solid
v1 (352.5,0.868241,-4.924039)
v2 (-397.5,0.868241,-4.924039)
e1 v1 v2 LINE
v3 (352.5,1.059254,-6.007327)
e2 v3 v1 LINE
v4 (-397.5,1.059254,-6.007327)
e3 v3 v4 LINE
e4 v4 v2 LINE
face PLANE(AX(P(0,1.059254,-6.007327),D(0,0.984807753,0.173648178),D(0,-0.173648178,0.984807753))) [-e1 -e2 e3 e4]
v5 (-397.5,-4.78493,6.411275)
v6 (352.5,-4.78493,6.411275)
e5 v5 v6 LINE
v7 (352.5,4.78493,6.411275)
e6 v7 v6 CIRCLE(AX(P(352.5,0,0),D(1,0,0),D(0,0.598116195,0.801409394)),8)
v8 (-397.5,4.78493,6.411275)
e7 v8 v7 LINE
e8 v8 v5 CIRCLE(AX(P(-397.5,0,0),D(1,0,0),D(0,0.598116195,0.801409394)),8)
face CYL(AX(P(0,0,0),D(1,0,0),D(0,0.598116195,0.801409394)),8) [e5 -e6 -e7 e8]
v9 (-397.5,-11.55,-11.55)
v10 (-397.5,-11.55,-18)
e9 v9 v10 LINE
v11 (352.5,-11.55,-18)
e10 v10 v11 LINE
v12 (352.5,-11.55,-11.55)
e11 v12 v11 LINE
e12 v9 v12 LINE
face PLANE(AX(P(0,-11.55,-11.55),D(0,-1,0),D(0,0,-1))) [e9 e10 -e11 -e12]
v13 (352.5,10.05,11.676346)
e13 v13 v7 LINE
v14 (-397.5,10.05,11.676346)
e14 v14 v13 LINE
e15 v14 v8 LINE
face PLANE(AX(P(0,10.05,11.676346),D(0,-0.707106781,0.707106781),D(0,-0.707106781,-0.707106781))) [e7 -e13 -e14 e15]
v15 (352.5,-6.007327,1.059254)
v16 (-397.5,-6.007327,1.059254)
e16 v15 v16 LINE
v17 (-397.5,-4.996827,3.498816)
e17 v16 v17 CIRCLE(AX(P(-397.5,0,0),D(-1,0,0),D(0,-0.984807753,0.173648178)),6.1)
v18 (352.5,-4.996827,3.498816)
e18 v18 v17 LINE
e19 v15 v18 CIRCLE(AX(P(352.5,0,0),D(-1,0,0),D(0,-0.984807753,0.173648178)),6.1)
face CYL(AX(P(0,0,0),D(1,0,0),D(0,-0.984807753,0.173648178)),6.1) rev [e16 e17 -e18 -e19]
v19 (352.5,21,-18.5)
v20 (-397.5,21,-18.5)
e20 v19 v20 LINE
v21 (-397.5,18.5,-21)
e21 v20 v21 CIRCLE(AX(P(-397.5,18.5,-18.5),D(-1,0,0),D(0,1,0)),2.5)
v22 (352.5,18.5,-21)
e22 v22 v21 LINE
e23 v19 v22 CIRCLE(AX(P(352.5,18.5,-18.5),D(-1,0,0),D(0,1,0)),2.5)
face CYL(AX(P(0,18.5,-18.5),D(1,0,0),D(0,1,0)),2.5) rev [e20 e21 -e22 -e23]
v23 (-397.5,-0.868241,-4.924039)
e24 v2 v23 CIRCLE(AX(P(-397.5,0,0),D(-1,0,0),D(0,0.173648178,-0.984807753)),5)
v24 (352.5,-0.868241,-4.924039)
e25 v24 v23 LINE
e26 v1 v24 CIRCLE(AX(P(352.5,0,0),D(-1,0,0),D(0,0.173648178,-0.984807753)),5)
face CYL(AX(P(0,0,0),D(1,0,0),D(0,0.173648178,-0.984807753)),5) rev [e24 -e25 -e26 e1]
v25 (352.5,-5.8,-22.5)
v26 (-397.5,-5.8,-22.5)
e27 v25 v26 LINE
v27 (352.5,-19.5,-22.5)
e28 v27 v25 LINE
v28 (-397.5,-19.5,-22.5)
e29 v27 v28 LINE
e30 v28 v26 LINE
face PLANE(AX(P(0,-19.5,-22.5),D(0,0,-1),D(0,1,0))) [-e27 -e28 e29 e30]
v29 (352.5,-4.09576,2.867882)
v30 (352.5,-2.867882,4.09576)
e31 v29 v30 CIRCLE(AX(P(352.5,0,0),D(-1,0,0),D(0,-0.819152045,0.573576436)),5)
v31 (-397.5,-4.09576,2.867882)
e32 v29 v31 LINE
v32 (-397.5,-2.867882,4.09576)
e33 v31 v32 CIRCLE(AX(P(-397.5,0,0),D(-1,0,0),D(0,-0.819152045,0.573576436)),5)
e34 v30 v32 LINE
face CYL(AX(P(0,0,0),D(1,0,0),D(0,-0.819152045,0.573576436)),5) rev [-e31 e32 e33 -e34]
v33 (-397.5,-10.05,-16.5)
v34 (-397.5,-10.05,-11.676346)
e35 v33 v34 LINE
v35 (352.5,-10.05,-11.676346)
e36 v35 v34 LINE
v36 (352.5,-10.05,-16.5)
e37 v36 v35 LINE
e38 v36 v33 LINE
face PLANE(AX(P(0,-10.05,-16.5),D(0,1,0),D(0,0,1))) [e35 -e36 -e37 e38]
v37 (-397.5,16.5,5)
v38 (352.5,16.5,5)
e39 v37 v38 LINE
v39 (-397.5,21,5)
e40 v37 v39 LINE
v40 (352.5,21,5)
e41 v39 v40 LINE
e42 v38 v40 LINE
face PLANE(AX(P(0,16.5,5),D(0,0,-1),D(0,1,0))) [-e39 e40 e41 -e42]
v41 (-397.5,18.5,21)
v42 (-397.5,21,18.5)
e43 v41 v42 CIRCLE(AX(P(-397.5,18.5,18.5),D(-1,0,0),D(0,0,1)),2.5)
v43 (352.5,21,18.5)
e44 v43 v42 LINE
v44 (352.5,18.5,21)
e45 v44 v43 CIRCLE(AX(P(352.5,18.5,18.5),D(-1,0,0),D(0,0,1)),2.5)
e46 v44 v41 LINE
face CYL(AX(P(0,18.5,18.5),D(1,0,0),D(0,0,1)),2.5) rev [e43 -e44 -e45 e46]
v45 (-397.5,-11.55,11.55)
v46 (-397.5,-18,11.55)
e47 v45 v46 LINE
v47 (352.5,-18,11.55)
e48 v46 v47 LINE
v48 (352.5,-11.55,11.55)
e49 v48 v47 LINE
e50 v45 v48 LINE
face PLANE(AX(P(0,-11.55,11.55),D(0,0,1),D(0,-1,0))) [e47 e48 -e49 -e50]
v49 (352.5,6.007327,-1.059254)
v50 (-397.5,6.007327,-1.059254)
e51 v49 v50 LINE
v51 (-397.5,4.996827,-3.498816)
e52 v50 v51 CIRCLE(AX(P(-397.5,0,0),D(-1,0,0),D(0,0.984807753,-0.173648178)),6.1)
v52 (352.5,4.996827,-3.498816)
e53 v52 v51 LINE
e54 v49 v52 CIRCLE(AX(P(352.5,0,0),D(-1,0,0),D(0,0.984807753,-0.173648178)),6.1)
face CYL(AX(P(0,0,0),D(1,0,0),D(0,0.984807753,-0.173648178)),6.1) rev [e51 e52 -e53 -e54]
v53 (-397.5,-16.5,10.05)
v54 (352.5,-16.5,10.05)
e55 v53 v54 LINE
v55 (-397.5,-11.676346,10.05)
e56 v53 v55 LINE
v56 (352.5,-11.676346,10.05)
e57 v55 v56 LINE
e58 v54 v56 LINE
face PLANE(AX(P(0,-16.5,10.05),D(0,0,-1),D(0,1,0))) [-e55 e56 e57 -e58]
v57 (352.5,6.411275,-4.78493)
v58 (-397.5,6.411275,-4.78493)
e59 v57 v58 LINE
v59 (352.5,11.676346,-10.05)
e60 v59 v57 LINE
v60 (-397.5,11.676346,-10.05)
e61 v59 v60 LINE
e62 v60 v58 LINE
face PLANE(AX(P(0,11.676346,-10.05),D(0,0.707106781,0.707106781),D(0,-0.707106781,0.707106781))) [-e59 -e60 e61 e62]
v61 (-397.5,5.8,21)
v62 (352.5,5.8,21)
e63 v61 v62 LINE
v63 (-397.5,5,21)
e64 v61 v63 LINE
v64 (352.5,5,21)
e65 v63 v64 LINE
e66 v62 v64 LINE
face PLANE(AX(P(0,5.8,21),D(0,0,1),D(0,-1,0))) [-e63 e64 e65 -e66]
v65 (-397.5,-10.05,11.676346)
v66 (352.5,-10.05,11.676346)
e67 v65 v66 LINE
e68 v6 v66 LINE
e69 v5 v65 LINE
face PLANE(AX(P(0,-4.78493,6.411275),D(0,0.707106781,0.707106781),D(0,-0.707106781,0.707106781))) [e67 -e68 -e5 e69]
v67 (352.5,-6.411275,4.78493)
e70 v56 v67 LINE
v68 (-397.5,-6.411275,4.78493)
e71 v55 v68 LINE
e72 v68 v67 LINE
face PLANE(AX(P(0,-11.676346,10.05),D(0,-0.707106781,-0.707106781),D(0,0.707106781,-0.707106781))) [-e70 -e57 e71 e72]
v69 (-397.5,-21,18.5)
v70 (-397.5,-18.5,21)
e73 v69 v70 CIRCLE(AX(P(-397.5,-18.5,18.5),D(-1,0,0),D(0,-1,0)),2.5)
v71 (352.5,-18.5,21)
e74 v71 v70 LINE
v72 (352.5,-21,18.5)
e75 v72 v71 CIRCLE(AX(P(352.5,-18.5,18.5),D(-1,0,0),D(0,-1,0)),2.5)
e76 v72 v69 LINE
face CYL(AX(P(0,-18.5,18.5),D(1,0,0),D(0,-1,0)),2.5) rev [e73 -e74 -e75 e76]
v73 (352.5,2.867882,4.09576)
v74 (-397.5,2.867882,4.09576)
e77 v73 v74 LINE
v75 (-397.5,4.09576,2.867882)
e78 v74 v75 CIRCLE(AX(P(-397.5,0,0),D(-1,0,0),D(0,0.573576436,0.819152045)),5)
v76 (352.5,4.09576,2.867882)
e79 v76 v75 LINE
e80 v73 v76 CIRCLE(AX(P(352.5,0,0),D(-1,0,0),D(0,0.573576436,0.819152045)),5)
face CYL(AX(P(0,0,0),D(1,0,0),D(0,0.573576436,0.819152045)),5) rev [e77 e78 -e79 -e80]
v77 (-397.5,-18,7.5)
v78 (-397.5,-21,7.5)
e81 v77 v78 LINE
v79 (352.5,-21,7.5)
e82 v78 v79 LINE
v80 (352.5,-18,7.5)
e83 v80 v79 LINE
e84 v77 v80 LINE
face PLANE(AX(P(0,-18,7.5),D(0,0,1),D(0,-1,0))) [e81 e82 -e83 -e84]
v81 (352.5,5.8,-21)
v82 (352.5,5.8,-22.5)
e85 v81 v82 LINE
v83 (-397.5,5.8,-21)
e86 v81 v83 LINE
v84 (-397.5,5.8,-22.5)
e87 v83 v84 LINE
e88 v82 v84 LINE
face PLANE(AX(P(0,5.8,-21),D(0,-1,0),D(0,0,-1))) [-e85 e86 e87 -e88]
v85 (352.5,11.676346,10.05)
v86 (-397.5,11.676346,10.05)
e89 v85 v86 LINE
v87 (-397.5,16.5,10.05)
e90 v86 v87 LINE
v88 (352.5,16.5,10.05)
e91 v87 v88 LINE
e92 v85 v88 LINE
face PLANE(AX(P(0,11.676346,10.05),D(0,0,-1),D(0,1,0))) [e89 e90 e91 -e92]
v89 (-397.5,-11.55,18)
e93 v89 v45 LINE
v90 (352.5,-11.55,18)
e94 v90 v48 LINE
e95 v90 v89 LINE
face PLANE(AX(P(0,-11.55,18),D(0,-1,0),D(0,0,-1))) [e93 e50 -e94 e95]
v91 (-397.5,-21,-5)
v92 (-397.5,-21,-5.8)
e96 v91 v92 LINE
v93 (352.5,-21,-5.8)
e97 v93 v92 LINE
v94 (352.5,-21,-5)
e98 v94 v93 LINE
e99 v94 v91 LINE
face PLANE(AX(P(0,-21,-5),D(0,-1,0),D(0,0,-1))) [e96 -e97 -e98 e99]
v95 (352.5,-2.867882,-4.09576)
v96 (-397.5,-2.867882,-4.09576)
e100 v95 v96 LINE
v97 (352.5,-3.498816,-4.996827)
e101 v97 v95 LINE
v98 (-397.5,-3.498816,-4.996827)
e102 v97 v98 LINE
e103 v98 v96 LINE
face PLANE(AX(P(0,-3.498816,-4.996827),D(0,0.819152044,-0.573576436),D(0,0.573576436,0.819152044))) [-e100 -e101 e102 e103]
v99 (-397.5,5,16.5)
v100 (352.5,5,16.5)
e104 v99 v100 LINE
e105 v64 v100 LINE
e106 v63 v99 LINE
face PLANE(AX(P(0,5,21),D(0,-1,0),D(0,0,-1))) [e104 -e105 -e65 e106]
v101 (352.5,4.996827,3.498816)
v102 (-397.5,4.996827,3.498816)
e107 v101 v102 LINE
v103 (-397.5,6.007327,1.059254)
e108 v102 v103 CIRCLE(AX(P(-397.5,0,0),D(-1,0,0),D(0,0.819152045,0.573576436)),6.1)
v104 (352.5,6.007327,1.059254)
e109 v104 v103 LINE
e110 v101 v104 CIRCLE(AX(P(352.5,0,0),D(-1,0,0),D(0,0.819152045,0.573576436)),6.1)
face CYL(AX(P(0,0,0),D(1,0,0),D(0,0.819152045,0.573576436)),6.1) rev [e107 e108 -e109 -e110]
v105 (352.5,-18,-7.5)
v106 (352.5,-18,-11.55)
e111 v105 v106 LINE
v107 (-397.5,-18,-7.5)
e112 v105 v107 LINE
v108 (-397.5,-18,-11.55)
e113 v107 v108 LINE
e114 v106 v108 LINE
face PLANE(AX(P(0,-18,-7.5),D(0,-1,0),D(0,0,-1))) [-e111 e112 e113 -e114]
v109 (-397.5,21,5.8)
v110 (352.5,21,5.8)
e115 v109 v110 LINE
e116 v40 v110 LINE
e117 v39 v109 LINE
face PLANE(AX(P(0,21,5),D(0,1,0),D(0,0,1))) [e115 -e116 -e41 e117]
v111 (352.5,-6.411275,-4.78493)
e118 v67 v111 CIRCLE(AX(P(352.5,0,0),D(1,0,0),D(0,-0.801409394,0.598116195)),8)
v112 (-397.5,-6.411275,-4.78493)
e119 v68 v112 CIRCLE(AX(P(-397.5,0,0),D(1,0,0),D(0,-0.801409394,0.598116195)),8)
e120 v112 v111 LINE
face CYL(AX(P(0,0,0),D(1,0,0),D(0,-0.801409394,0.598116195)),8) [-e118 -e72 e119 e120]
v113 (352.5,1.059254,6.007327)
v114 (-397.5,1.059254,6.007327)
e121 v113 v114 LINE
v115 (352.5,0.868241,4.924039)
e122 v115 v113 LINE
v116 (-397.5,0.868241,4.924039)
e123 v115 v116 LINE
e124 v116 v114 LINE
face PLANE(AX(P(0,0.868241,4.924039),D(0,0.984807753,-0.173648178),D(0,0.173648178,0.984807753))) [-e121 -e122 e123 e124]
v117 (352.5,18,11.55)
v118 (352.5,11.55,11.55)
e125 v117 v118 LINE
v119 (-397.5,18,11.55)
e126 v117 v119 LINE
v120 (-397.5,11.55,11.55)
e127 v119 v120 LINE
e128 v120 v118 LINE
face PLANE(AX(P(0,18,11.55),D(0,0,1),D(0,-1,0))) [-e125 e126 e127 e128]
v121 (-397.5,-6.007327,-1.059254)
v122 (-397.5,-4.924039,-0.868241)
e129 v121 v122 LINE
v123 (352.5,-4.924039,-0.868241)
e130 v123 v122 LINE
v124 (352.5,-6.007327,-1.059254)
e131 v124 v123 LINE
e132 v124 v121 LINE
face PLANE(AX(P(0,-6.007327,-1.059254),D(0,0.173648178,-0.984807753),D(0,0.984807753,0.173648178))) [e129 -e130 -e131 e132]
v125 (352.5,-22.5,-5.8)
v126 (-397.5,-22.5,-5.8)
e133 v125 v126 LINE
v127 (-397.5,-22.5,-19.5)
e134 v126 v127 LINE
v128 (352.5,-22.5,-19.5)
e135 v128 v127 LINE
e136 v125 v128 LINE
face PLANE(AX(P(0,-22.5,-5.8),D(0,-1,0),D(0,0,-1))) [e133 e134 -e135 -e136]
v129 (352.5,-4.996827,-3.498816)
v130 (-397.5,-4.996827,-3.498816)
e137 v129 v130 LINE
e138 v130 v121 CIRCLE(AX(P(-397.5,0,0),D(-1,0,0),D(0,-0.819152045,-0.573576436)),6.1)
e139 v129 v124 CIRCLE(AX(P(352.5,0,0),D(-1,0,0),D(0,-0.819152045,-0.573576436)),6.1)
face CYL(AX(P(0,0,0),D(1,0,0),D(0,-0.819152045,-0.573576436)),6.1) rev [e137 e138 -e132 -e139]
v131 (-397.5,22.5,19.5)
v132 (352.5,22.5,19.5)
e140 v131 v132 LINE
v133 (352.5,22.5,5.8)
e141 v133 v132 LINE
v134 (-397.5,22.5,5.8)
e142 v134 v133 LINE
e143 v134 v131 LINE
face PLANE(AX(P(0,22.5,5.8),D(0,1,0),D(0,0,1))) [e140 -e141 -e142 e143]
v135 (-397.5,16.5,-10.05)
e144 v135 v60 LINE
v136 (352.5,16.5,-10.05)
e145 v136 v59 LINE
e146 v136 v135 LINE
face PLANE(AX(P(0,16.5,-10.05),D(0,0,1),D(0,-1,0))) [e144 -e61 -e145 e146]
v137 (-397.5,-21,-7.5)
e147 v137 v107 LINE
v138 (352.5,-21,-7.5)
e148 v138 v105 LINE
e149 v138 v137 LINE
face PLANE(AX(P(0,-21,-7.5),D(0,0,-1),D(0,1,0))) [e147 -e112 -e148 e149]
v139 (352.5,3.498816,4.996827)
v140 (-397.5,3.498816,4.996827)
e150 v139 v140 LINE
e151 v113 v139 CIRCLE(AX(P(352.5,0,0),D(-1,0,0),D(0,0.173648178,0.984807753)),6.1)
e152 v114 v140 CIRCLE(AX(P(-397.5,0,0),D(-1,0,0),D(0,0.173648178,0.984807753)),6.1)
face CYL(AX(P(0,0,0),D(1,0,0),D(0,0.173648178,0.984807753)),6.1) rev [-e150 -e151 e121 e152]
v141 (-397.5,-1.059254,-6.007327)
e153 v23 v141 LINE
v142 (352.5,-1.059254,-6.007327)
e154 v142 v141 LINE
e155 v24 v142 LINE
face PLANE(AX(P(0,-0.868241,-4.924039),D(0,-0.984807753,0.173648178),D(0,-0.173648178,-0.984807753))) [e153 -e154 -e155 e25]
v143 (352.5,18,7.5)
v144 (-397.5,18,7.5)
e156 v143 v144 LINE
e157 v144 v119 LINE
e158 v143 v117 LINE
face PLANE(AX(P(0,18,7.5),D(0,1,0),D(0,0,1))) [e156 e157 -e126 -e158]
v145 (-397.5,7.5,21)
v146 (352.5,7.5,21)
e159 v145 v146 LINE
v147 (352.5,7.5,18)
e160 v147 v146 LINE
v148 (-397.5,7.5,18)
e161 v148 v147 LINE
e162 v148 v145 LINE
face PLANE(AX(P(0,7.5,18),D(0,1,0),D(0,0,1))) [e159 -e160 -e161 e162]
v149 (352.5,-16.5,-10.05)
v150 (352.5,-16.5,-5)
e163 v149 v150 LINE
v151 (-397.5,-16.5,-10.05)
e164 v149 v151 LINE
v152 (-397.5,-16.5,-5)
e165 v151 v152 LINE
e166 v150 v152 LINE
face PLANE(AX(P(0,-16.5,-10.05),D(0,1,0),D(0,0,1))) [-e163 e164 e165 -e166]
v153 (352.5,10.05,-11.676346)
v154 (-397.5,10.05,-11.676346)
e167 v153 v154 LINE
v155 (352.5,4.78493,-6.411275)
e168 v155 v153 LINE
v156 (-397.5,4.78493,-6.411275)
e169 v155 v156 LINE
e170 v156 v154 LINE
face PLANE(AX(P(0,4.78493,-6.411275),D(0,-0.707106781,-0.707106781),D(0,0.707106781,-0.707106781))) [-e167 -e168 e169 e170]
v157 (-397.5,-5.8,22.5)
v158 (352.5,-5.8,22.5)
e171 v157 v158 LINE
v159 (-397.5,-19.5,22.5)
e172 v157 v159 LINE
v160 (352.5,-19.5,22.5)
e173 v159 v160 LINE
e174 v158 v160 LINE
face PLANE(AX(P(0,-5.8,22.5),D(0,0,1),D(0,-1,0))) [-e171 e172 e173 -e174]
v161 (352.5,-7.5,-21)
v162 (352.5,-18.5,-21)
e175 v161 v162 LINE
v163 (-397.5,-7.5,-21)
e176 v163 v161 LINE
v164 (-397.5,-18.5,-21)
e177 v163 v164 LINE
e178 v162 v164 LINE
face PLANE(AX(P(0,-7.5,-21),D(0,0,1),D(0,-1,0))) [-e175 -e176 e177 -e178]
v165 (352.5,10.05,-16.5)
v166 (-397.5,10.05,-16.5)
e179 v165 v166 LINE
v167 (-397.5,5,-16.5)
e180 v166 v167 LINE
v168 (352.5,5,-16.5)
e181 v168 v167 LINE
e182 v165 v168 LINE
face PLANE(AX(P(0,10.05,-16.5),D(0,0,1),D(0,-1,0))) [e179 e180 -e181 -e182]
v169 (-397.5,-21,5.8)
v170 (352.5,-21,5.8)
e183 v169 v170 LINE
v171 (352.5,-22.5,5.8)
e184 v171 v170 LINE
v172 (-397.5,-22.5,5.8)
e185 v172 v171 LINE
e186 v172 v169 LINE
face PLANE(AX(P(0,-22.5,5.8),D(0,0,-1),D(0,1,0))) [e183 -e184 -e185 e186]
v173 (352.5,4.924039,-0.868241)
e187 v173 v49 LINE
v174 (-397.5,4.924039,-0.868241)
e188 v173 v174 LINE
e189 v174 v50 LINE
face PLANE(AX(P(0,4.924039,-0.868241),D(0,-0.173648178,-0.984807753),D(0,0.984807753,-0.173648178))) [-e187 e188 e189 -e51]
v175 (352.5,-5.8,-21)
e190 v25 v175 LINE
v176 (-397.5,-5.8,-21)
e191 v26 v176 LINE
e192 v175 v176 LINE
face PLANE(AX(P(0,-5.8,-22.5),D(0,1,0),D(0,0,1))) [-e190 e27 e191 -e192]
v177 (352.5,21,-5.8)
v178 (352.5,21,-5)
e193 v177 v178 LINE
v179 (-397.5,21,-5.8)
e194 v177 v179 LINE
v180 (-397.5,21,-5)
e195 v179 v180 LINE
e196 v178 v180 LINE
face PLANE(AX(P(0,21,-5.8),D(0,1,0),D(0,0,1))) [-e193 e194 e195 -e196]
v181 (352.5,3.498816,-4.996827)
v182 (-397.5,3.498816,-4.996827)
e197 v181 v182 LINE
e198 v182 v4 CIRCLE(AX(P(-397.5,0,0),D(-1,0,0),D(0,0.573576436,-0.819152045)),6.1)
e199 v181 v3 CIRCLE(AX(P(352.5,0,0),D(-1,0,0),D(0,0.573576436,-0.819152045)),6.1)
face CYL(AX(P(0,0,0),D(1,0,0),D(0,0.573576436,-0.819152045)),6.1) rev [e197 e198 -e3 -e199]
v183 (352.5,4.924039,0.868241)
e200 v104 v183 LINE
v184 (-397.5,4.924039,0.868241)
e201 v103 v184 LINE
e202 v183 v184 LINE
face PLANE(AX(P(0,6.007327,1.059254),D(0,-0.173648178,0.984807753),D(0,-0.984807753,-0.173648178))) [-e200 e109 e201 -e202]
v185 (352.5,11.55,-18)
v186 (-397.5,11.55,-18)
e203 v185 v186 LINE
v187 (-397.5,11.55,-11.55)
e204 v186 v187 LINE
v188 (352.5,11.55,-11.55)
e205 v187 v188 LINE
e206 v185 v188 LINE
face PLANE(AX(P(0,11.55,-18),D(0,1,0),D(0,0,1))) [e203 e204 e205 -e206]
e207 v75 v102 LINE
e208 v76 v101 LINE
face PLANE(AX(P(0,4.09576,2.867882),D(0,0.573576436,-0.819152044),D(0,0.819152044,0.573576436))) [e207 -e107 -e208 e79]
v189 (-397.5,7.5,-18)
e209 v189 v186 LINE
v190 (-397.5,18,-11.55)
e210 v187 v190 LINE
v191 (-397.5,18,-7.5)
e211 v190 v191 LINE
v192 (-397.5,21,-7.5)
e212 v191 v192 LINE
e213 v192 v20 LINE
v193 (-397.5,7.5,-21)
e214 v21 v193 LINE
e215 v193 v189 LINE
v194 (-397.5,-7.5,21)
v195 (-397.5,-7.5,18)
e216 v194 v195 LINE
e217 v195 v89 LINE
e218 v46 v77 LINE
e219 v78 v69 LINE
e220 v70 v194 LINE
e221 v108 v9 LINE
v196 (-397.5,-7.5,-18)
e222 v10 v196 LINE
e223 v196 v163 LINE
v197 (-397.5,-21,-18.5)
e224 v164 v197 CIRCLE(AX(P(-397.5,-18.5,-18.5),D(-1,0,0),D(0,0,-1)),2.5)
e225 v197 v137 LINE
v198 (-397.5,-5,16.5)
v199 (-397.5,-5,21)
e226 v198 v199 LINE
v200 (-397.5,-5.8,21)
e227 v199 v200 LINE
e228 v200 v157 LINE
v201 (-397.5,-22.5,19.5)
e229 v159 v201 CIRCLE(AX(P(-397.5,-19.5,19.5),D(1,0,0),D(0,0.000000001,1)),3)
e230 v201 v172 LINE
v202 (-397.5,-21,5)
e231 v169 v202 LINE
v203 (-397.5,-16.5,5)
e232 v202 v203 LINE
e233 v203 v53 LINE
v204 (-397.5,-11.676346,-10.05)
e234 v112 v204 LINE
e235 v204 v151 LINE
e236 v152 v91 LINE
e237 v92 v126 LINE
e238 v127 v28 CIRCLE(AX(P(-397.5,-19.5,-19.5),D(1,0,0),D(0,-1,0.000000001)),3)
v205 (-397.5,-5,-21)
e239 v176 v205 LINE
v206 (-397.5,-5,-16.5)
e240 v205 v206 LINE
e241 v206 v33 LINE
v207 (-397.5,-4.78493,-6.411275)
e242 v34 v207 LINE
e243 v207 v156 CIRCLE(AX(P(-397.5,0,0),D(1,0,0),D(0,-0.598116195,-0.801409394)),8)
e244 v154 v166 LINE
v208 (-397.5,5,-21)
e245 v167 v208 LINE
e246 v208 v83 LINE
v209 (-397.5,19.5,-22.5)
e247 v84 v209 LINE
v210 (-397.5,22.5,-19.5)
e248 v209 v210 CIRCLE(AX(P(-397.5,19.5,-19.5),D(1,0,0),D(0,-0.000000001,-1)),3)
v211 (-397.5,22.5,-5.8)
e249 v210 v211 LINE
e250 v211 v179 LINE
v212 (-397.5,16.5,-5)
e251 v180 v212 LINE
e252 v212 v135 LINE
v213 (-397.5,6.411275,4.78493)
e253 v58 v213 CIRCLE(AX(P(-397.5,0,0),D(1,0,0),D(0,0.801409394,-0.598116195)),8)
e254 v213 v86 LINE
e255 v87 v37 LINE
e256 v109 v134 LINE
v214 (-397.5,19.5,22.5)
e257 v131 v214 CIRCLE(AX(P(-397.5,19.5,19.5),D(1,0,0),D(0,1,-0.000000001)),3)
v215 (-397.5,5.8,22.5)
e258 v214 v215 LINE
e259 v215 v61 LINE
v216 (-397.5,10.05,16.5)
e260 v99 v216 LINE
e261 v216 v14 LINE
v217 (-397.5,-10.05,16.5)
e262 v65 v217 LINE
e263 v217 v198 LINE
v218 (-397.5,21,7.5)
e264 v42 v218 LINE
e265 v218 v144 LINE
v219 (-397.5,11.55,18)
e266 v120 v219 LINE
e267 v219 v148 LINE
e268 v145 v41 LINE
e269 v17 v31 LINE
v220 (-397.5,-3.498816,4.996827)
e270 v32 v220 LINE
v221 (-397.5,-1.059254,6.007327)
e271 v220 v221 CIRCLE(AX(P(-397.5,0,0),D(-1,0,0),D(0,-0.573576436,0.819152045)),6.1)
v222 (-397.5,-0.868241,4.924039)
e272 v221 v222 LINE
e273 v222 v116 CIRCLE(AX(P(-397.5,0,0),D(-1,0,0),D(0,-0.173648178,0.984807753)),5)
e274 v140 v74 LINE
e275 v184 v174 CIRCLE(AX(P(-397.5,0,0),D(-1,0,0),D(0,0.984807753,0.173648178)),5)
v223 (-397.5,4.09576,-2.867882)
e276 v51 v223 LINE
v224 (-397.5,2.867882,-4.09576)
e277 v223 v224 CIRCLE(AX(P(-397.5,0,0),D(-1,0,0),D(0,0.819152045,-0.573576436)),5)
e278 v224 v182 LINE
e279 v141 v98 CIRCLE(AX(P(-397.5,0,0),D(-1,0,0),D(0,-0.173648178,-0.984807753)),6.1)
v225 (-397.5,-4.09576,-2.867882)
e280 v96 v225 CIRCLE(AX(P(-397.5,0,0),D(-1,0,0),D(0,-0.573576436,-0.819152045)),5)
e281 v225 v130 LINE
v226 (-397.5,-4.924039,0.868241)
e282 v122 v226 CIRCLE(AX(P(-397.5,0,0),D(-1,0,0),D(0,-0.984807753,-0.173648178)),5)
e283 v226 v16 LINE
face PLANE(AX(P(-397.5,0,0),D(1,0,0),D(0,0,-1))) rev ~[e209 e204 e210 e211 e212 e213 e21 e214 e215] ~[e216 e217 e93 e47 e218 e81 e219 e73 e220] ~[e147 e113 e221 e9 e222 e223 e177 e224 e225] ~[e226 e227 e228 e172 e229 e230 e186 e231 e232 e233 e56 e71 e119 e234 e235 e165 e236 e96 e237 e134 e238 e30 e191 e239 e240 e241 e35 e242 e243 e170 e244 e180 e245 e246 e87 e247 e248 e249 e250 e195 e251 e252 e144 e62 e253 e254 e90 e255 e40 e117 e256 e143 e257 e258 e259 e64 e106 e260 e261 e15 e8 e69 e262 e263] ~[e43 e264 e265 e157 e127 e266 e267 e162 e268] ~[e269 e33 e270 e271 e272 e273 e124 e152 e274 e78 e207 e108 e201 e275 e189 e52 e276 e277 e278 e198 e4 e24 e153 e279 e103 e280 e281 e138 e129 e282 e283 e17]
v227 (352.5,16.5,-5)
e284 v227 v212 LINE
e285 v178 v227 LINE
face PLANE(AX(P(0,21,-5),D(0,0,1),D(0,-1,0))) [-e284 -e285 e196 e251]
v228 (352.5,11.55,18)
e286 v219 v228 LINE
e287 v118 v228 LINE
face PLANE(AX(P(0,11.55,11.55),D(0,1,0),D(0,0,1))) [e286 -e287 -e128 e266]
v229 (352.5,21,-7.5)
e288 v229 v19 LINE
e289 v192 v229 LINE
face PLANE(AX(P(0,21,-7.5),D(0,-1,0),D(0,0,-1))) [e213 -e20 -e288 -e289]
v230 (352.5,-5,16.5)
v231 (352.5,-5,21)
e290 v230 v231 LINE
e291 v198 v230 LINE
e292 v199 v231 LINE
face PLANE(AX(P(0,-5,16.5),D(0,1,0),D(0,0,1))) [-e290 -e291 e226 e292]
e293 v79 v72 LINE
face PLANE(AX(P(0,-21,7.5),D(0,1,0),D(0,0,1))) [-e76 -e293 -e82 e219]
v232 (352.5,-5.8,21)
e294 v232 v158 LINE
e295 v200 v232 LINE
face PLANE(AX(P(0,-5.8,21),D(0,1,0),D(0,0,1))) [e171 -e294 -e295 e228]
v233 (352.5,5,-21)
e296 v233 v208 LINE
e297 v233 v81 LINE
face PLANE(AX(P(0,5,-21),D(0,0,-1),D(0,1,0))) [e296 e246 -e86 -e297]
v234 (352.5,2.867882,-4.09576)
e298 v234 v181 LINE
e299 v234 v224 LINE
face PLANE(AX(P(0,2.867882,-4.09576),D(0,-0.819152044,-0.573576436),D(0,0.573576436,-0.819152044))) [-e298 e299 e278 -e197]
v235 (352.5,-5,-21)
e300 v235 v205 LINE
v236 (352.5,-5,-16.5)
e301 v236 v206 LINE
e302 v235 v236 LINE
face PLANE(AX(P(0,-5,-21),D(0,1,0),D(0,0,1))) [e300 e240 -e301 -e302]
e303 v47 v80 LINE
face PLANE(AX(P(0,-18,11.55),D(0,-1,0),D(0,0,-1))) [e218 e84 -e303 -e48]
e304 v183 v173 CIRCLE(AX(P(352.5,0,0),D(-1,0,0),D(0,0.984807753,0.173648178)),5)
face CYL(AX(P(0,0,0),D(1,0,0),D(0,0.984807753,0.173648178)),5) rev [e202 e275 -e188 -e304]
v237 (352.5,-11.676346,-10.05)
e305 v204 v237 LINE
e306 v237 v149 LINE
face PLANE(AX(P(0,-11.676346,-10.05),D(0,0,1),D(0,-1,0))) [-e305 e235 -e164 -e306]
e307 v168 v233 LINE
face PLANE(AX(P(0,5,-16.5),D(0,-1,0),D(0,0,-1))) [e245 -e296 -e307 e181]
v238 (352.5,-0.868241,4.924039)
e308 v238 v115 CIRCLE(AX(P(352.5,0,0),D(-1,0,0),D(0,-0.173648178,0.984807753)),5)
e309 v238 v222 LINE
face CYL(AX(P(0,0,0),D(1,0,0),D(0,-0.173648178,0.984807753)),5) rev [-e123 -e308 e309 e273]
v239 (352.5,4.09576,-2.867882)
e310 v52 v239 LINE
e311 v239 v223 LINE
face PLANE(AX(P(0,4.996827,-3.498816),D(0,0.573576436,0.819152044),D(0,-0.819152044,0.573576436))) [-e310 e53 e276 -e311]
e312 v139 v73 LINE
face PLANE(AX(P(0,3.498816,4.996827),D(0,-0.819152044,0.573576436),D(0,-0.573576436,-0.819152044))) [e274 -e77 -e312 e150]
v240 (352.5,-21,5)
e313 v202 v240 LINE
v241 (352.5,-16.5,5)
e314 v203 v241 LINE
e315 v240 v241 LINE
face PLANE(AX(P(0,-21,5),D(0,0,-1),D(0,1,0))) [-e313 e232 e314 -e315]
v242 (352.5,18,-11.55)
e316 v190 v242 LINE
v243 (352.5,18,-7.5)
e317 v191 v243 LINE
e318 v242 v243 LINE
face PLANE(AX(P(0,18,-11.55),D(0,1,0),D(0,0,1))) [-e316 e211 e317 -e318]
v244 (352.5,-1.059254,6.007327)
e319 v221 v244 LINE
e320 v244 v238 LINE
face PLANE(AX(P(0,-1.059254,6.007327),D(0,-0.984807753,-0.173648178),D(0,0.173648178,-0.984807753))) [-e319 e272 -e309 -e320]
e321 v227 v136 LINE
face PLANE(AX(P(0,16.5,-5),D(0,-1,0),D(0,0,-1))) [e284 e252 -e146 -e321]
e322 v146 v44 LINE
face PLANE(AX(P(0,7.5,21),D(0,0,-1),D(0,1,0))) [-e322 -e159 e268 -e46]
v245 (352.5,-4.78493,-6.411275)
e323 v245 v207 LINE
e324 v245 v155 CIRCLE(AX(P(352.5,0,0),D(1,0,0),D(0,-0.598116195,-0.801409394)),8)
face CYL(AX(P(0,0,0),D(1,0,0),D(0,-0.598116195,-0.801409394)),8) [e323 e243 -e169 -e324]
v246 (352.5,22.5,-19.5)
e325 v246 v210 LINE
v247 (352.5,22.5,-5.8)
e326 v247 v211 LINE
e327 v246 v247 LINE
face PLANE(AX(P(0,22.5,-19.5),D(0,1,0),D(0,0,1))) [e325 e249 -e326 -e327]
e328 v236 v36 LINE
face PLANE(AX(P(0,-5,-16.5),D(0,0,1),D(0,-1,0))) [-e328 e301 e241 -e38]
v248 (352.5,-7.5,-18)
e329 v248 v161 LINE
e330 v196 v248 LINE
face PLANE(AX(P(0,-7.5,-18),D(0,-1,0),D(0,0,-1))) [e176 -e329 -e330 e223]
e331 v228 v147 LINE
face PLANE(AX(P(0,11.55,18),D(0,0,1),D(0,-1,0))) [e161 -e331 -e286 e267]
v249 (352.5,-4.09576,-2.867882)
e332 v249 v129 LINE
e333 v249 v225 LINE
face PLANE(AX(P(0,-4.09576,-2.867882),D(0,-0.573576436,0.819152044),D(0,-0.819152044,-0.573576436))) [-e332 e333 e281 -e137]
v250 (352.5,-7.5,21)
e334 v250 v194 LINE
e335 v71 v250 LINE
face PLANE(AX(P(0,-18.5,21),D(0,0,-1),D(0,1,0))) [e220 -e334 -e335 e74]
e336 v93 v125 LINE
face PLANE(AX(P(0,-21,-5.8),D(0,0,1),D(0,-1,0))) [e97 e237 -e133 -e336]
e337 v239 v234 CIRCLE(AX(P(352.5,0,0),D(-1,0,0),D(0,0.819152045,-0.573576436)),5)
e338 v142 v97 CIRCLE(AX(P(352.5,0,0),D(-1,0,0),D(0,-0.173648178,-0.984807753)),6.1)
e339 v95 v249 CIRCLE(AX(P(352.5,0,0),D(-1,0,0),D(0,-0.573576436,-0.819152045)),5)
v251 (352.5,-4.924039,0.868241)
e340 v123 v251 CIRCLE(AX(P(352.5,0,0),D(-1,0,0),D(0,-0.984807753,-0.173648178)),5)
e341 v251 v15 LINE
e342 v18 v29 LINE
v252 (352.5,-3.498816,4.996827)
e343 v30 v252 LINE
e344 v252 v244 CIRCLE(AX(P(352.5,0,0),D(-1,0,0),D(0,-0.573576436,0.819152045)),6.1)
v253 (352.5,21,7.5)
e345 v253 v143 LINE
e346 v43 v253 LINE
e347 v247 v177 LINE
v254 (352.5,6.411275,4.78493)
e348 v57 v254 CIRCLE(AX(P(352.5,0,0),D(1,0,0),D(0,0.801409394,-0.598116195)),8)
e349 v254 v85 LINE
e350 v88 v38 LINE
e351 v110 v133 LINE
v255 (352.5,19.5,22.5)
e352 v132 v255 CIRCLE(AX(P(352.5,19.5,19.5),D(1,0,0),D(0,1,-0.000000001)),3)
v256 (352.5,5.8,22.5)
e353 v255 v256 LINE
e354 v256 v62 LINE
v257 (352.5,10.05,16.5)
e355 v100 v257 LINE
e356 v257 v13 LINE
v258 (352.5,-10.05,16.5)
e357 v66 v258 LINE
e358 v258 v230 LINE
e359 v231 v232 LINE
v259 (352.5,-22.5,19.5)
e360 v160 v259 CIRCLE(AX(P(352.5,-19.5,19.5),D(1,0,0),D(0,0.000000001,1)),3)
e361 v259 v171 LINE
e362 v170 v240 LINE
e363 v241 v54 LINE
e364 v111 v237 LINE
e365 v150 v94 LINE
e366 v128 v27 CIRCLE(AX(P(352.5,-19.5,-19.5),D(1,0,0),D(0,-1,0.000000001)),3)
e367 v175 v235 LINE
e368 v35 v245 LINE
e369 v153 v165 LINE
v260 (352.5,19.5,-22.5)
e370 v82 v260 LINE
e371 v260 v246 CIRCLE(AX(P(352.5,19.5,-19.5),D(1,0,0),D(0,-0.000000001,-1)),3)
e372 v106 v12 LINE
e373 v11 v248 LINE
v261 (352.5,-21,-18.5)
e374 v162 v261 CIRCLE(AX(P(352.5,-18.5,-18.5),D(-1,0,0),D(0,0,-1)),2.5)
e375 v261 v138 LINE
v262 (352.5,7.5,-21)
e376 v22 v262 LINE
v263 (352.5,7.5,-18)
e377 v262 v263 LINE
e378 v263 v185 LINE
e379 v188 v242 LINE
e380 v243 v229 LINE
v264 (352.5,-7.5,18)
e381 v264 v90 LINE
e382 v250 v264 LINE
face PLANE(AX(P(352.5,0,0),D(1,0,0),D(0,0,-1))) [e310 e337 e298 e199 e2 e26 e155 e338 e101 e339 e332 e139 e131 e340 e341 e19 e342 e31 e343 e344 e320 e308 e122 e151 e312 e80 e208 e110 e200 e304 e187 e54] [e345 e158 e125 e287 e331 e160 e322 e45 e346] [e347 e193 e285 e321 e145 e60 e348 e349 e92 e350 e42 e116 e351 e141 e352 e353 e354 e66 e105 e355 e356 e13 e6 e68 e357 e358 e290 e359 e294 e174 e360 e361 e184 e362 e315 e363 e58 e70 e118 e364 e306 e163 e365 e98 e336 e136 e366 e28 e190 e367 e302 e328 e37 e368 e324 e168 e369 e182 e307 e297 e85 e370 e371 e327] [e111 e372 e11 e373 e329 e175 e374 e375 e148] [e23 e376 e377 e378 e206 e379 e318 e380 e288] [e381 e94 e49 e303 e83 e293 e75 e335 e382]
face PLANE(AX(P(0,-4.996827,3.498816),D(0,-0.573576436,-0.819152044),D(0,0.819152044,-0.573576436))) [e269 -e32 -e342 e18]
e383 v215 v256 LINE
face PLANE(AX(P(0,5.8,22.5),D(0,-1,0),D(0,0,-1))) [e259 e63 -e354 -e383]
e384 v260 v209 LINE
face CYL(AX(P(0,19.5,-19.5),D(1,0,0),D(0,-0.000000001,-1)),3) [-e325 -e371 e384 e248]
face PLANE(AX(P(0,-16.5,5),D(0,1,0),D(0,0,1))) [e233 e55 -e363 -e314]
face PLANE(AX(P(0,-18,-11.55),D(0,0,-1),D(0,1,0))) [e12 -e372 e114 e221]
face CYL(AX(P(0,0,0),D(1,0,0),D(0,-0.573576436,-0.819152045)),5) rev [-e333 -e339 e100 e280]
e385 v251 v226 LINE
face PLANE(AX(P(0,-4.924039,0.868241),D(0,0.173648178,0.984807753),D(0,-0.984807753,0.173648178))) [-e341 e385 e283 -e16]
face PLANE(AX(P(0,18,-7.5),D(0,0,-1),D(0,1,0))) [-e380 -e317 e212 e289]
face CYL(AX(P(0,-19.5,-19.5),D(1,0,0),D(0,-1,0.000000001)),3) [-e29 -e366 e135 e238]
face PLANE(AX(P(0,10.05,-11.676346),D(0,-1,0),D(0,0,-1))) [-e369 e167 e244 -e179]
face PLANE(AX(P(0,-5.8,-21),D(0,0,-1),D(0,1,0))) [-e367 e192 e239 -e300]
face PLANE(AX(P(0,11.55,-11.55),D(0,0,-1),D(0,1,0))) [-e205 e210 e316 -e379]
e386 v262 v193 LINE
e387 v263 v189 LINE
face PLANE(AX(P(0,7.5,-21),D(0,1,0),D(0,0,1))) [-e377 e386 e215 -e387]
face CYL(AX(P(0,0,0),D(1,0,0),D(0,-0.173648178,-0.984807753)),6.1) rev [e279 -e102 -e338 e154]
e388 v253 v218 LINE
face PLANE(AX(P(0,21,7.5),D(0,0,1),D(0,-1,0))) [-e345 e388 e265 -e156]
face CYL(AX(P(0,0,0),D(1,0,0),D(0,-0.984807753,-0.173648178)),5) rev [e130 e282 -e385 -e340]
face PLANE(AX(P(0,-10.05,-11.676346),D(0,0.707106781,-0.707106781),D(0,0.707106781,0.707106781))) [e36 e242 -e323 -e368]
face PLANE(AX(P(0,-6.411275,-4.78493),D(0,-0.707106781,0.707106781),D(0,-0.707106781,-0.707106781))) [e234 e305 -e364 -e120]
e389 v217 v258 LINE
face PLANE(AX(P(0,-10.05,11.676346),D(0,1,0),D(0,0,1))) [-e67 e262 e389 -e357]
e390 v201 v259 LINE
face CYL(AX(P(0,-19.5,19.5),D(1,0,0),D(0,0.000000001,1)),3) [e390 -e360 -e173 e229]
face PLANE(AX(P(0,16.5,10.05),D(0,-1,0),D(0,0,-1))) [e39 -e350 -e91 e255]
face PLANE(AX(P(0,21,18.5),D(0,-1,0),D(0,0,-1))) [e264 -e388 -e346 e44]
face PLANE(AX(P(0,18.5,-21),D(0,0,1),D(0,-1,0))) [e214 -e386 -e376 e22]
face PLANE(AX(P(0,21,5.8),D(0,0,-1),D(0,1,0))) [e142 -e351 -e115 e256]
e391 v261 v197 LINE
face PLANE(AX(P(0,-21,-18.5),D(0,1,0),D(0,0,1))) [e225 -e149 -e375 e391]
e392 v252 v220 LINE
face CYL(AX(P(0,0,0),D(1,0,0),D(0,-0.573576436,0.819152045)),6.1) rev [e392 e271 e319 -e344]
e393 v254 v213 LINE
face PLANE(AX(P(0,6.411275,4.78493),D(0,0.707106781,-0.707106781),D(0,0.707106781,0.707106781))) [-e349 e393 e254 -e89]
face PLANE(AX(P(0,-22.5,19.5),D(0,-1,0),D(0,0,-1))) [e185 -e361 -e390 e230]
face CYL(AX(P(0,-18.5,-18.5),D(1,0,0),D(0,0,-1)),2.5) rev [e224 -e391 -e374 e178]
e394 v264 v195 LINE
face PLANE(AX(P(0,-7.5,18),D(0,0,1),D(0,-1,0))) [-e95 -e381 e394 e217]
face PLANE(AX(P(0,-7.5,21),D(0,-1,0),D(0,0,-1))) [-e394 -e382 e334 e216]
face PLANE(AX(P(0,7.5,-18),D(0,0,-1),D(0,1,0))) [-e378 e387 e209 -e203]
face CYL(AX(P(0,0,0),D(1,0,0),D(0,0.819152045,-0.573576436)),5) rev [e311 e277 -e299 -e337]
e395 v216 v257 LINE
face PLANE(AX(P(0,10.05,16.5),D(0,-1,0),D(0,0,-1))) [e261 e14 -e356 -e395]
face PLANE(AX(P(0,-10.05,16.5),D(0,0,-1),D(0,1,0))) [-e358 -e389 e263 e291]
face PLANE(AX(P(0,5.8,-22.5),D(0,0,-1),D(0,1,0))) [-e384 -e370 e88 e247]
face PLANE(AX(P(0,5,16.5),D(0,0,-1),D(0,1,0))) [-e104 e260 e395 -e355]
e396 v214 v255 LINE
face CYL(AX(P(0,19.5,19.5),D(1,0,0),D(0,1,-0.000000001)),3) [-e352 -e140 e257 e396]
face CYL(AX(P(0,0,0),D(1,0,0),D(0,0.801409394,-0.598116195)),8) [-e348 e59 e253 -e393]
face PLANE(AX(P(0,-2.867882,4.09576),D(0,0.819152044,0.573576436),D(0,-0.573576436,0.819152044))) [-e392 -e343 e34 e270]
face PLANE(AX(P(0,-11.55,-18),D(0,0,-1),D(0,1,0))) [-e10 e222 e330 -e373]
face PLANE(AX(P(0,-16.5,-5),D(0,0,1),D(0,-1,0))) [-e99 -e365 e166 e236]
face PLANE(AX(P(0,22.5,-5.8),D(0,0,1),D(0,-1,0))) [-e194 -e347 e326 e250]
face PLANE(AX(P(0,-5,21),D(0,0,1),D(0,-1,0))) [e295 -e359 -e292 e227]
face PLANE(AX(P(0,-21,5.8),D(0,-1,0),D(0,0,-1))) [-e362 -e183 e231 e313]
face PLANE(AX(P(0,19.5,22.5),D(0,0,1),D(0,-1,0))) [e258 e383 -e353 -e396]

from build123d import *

# Parameters (mm, degrees)
BR_EXTRUDE_DEPTH      = 352.5
BR_EXTRUDE_DEPTH_BACK = 397.5


with BuildPart() as part:
    # Sketch2 → BR_Extrude (new body, two sides)
    with BuildSketch(Plane(origin=(0, 0, 0), x_dir=(0, 0, -1), z_dir=(1, 0, 0))) as br_extrude_sk:
        with BuildLine():
            Line((-10.05, 11.676345597), (-10.05, 16.5))
            Line((-10.05, 16.5), (-5, 16.5))
            Line((-5, 16.5), (-5, 21))
            Line((-5, 21), (-5.8, 21))
            Line((-5.8, 21), (-5.8, 22.5))
            Line((-5.8, 22.5), (-19.5, 22.5))
            ThreePointArc((-19.5, 22.5), (-21.621320344, 21.621320344), (-22.5, 19.5))
            Line((-22.5, 19.5), (-22.5, 5.8))
            Line((-22.5, 5.8), (-21, 5.8))
            Line((-21, 5.8), (-21, 5))
            Line((-21, 5), (-16.5, 5))
            Line((-16.5, 5), (-16.5, 10.05))
            Line((-16.5, 10.05), (-11.676345597, 10.05))
            Line((-11.676345597, 10.05), (-6.411275155, 4.784929559))
            ThreePointArc((-6.411275155, 4.784929559), (-8, 0), (-6.411275155, -4.784929559))
            Line((-6.411275155, -4.784929559), (-11.676345597, -10.05))
            Line((-11.676345597, -10.05), (-16.5, -10.05))
            Line((-16.5, -10.05), (-16.5, -5))
            Line((-16.5, -5), (-21, -5))
            Line((-21, -5), (-21, -5.8))
            Line((-21, -5.8), (-22.5, -5.8))
            Line((-22.5, -5.8), (-22.5, -19.5))
            ThreePointArc((-22.5, -19.5), (-21.621320344, -21.621320344), (-19.5, -22.5))
            Line((-19.5, -22.5), (-5.8, -22.5))
            Line((-5.8, -22.5), (-5.8, -21))
            Line((-5.8, -21), (-5, -21))
            Line((-5, -21), (-5, -16.5))
            Line((-5, -16.5), (-10.05, -16.5))
            Line((-10.05, -16.5), (-10.05, -11.676345597))
            Line((-10.05, -11.676345597), (-4.784929559, -6.411275155))
            ThreePointArc((-4.784929559, -6.411275155), (0, -8), (4.784929559, -6.411275155))
            Line((4.784929559, -6.411275155), (10.05, -11.676345597))
            Line((10.05, -11.676345597), (10.05, -16.5))
            Line((10.05, -16.5), (5, -16.5))
            Line((5, -16.5), (5, -21))
            Line((5, -21), (5.8, -21))
            Line((5.8, -21), (5.8, -22.5))
            Line((5.8, -22.5), (19.5, -22.5))
            ThreePointArc((19.5, -22.5), (21.621320344, -21.621320344), (22.5, -19.5))
            Line((22.5, -19.5), (22.5, -5.8))
            Line((22.5, -5.8), (21, -5.8))
            Line((21, -5.8), (21, -5))
            Line((21, -5), (16.5, -5))
            Line((16.5, -5), (16.5, -10.05))
            Line((16.5, -10.05), (11.676345597, -10.05))
            Line((11.676345597, -10.05), (6.411275155, -4.784929559))
            ThreePointArc((6.411275155, -4.784929559), (8, 0), (6.411275155, 4.784929559))
            Line((6.411275155, 4.784929559), (11.676345597, 10.05))
            Line((11.676345597, 10.05), (16.5, 10.05))
            Line((16.5, 10.05), (16.5, 5))
            Line((16.5, 5), (21, 5))
            Line((21, 5), (21, 5.8))
            Line((21, 5.8), (22.5, 5.8))
            Line((22.5, 5.8), (22.5, 19.5))
            ThreePointArc((22.5, 19.5), (21.621320344, 21.621320344), (19.5, 22.5))
            Line((19.5, 22.5), (5.8, 22.5))
            Line((5.8, 22.5), (5.8, 21))
            Line((5.8, 21), (5, 21))
            Line((5, 21), (5, 16.5))
            Line((5, 16.5), (10.05, 16.5))
            Line((10.05, 16.5), (10.05, 11.676345597))
            Line((10.05, 11.676345597), (4.784929559, 6.411275155))
            ThreePointArc((4.784929559, 6.411275155), (0, 8), (-4.784929559, 6.411275155))
            Line((-4.784929559, 6.411275155), (-10.05, 11.676345597))
        make_face()
        with BuildLine():
            Line((11.55, 11.55), (11.55, 18))
            Line((11.55, 18), (7.5, 18))
            Line((7.5, 18), (7.5, 21))
            Line((7.5, 21), (18.5, 21))
            ThreePointArc((18.5, 21), (20.267766953, 20.267766953), (21, 18.5))
            Line((21, 18.5), (21, 7.5))
            Line((21, 7.5), (18, 7.5))
            Line((18, 7.5), (18, 11.55))
            Line((18, 11.55), (11.55, 11.55))
        make_face(mode=Mode.SUBTRACT)
        with BuildLine():
            Line((11.55, -11.55), (18, -11.55))
            Line((18, -11.55), (18, -7.5))
            Line((18, -7.5), (21, -7.5))
            Line((21, -7.5), (21, -18.5))
            ThreePointArc((21, -18.5), (20.267766953, -20.267766953), (18.5, -21))
            Line((18.5, -21), (7.5, -21))
            Line((7.5, -21), (7.5, -18))
            Line((7.5, -18), (11.55, -18))
            Line((11.55, -18), (11.55, -11.55))
        make_face(mode=Mode.SUBTRACT)
        with BuildLine():
            Line((-11.55, 11.55), (-18, 11.55))
            Line((-18, 11.55), (-18, 7.5))
            Line((-18, 7.5), (-21, 7.5))
            Line((-21, 7.5), (-21, 18.5))
            ThreePointArc((-21, 18.5), (-20.267766953, 20.267766953), (-18.5, 21))
            Line((-18.5, 21), (-7.5, 21))
            Line((-7.5, 21), (-7.5, 18))
            Line((-7.5, 18), (-11.55, 18))
            Line((-11.55, 18), (-11.55, 11.55))
        make_face(mode=Mode.SUBTRACT)
        with BuildLine():
            Line((-11.55, -11.55), (-11.55, -18))
            Line((-11.55, -18), (-7.5, -18))
            Line((-7.5, -18), (-7.5, -21))
            Line((-7.5, -21), (-18.5, -21))
            ThreePointArc((-18.5, -21), (-20.267766953, -20.267766953), (-21, -18.5))
            Line((-21, -18.5), (-21, -7.5))
            Line((-21, -7.5), (-18, -7.5))
            Line((-18, -7.5), (-18, -11.55))
            Line((-18, -11.55), (-11.55, -11.55))
        make_face(mode=Mode.SUBTRACT)
        with BuildLine():
            Line((-6.007327293, -1.059253884), (-4.924038765, -0.868240888))
            ThreePointArc((-4.924038765, -0.868240888), (-5, 0), (-4.924038765, 0.868240888))
            Line((-4.924038765, 0.868240888), (-6.007327293, 1.059253884))
            ThreePointArc((-6.007327293, 1.059253884), (-5.635665148, 2.334368937), (-4.99682747, 3.498816262))
            Line((-4.99682747, 3.498816262), (-4.095760221, 2.867882182))
            ThreePointArc((-4.095760221, 2.867882182), (-3.535533906, 3.535533906), (-2.867882182, 4.095760221))
            Line((-2.867882182, 4.095760221), (-3.498816262, 4.99682747))
            ThreePointArc((-3.498816262, 4.99682747), (-2.334368937, 5.635665148), (-1.059253884, 6.007327293))
            Line((-1.059253884, 6.007327293), (-0.868240888, 4.924038765))
            ThreePointArc((-0.868240888, 4.924038765), (0, 5), (0.868240888, 4.924038765))
            Line((0.868240888, 4.924038765), (1.059253884, 6.007327293))
            ThreePointArc((1.059253884, 6.007327293), (2.334368937, 5.635665148), (3.498816262, 4.99682747))
            Line((3.498816262, 4.99682747), (2.867882182, 4.095760221))
            ThreePointArc((2.867882182, 4.095760221), (3.535533906, 3.535533906), (4.095760221, 2.867882182))
            Line((4.095760221, 2.867882182), (4.99682747, 3.498816262))
            ThreePointArc((4.99682747, 3.498816262), (5.635665148, 2.334368937), (6.007327293, 1.059253884))
            Line((6.007327293, 1.059253884), (4.924038765, 0.868240888))
            ThreePointArc((4.924038765, 0.868240888), (5, 0), (4.924038765, -0.868240888))
            Line((4.924038765, -0.868240888), (6.007327293, -1.059253884))
            ThreePointArc((6.007327293, -1.059253884), (5.635665148, -2.334368937), (4.99682747, -3.498816262))
            Line((4.99682747, -3.498816262), (4.095760221, -2.867882182))
            ThreePointArc((4.095760221, -2.867882182), (3.535533906, -3.535533906), (2.867882182, -4.095760221))
            Line((2.867882182, -4.095760221), (3.498816262, -4.99682747))
            ThreePointArc((3.498816262, -4.99682747), (2.334368937, -5.635665148), (1.059253884, -6.007327293))
            Line((1.059253884, -6.007327293), (0.868240888, -4.924038765))
            ThreePointArc((0.868240888, -4.924038765), (0, -5), (-0.868240888, -4.924038765))
            Line((-0.868240888, -4.924038765), (-1.059253884, -6.007327293))
            ThreePointArc((-1.059253884, -6.007327293), (-2.334368937, -5.635665148), (-3.498816262, -4.99682747))
            Line((-3.498816262, -4.99682747), (-2.867882182, -4.095760221))
            ThreePointArc((-2.867882182, -4.095760221), (-3.535533906, -3.535533906), (-4.095760221, -2.867882182))
            Line((-4.095760221, -2.867882182), (-4.99682747, -3.498816262))
            ThreePointArc((-4.99682747, -3.498816262), (-5.635665148, -2.334368937), (-6.007327293, -1.059253884))
        make_face(mode=Mode.SUBTRACT)
    extrude(amount=BR_EXTRUDE_DEPTH)
    extrude(br_extrude_sk.sketch, amount=-BR_EXTRUDE_DEPTH_BACK)


solid = part.part
